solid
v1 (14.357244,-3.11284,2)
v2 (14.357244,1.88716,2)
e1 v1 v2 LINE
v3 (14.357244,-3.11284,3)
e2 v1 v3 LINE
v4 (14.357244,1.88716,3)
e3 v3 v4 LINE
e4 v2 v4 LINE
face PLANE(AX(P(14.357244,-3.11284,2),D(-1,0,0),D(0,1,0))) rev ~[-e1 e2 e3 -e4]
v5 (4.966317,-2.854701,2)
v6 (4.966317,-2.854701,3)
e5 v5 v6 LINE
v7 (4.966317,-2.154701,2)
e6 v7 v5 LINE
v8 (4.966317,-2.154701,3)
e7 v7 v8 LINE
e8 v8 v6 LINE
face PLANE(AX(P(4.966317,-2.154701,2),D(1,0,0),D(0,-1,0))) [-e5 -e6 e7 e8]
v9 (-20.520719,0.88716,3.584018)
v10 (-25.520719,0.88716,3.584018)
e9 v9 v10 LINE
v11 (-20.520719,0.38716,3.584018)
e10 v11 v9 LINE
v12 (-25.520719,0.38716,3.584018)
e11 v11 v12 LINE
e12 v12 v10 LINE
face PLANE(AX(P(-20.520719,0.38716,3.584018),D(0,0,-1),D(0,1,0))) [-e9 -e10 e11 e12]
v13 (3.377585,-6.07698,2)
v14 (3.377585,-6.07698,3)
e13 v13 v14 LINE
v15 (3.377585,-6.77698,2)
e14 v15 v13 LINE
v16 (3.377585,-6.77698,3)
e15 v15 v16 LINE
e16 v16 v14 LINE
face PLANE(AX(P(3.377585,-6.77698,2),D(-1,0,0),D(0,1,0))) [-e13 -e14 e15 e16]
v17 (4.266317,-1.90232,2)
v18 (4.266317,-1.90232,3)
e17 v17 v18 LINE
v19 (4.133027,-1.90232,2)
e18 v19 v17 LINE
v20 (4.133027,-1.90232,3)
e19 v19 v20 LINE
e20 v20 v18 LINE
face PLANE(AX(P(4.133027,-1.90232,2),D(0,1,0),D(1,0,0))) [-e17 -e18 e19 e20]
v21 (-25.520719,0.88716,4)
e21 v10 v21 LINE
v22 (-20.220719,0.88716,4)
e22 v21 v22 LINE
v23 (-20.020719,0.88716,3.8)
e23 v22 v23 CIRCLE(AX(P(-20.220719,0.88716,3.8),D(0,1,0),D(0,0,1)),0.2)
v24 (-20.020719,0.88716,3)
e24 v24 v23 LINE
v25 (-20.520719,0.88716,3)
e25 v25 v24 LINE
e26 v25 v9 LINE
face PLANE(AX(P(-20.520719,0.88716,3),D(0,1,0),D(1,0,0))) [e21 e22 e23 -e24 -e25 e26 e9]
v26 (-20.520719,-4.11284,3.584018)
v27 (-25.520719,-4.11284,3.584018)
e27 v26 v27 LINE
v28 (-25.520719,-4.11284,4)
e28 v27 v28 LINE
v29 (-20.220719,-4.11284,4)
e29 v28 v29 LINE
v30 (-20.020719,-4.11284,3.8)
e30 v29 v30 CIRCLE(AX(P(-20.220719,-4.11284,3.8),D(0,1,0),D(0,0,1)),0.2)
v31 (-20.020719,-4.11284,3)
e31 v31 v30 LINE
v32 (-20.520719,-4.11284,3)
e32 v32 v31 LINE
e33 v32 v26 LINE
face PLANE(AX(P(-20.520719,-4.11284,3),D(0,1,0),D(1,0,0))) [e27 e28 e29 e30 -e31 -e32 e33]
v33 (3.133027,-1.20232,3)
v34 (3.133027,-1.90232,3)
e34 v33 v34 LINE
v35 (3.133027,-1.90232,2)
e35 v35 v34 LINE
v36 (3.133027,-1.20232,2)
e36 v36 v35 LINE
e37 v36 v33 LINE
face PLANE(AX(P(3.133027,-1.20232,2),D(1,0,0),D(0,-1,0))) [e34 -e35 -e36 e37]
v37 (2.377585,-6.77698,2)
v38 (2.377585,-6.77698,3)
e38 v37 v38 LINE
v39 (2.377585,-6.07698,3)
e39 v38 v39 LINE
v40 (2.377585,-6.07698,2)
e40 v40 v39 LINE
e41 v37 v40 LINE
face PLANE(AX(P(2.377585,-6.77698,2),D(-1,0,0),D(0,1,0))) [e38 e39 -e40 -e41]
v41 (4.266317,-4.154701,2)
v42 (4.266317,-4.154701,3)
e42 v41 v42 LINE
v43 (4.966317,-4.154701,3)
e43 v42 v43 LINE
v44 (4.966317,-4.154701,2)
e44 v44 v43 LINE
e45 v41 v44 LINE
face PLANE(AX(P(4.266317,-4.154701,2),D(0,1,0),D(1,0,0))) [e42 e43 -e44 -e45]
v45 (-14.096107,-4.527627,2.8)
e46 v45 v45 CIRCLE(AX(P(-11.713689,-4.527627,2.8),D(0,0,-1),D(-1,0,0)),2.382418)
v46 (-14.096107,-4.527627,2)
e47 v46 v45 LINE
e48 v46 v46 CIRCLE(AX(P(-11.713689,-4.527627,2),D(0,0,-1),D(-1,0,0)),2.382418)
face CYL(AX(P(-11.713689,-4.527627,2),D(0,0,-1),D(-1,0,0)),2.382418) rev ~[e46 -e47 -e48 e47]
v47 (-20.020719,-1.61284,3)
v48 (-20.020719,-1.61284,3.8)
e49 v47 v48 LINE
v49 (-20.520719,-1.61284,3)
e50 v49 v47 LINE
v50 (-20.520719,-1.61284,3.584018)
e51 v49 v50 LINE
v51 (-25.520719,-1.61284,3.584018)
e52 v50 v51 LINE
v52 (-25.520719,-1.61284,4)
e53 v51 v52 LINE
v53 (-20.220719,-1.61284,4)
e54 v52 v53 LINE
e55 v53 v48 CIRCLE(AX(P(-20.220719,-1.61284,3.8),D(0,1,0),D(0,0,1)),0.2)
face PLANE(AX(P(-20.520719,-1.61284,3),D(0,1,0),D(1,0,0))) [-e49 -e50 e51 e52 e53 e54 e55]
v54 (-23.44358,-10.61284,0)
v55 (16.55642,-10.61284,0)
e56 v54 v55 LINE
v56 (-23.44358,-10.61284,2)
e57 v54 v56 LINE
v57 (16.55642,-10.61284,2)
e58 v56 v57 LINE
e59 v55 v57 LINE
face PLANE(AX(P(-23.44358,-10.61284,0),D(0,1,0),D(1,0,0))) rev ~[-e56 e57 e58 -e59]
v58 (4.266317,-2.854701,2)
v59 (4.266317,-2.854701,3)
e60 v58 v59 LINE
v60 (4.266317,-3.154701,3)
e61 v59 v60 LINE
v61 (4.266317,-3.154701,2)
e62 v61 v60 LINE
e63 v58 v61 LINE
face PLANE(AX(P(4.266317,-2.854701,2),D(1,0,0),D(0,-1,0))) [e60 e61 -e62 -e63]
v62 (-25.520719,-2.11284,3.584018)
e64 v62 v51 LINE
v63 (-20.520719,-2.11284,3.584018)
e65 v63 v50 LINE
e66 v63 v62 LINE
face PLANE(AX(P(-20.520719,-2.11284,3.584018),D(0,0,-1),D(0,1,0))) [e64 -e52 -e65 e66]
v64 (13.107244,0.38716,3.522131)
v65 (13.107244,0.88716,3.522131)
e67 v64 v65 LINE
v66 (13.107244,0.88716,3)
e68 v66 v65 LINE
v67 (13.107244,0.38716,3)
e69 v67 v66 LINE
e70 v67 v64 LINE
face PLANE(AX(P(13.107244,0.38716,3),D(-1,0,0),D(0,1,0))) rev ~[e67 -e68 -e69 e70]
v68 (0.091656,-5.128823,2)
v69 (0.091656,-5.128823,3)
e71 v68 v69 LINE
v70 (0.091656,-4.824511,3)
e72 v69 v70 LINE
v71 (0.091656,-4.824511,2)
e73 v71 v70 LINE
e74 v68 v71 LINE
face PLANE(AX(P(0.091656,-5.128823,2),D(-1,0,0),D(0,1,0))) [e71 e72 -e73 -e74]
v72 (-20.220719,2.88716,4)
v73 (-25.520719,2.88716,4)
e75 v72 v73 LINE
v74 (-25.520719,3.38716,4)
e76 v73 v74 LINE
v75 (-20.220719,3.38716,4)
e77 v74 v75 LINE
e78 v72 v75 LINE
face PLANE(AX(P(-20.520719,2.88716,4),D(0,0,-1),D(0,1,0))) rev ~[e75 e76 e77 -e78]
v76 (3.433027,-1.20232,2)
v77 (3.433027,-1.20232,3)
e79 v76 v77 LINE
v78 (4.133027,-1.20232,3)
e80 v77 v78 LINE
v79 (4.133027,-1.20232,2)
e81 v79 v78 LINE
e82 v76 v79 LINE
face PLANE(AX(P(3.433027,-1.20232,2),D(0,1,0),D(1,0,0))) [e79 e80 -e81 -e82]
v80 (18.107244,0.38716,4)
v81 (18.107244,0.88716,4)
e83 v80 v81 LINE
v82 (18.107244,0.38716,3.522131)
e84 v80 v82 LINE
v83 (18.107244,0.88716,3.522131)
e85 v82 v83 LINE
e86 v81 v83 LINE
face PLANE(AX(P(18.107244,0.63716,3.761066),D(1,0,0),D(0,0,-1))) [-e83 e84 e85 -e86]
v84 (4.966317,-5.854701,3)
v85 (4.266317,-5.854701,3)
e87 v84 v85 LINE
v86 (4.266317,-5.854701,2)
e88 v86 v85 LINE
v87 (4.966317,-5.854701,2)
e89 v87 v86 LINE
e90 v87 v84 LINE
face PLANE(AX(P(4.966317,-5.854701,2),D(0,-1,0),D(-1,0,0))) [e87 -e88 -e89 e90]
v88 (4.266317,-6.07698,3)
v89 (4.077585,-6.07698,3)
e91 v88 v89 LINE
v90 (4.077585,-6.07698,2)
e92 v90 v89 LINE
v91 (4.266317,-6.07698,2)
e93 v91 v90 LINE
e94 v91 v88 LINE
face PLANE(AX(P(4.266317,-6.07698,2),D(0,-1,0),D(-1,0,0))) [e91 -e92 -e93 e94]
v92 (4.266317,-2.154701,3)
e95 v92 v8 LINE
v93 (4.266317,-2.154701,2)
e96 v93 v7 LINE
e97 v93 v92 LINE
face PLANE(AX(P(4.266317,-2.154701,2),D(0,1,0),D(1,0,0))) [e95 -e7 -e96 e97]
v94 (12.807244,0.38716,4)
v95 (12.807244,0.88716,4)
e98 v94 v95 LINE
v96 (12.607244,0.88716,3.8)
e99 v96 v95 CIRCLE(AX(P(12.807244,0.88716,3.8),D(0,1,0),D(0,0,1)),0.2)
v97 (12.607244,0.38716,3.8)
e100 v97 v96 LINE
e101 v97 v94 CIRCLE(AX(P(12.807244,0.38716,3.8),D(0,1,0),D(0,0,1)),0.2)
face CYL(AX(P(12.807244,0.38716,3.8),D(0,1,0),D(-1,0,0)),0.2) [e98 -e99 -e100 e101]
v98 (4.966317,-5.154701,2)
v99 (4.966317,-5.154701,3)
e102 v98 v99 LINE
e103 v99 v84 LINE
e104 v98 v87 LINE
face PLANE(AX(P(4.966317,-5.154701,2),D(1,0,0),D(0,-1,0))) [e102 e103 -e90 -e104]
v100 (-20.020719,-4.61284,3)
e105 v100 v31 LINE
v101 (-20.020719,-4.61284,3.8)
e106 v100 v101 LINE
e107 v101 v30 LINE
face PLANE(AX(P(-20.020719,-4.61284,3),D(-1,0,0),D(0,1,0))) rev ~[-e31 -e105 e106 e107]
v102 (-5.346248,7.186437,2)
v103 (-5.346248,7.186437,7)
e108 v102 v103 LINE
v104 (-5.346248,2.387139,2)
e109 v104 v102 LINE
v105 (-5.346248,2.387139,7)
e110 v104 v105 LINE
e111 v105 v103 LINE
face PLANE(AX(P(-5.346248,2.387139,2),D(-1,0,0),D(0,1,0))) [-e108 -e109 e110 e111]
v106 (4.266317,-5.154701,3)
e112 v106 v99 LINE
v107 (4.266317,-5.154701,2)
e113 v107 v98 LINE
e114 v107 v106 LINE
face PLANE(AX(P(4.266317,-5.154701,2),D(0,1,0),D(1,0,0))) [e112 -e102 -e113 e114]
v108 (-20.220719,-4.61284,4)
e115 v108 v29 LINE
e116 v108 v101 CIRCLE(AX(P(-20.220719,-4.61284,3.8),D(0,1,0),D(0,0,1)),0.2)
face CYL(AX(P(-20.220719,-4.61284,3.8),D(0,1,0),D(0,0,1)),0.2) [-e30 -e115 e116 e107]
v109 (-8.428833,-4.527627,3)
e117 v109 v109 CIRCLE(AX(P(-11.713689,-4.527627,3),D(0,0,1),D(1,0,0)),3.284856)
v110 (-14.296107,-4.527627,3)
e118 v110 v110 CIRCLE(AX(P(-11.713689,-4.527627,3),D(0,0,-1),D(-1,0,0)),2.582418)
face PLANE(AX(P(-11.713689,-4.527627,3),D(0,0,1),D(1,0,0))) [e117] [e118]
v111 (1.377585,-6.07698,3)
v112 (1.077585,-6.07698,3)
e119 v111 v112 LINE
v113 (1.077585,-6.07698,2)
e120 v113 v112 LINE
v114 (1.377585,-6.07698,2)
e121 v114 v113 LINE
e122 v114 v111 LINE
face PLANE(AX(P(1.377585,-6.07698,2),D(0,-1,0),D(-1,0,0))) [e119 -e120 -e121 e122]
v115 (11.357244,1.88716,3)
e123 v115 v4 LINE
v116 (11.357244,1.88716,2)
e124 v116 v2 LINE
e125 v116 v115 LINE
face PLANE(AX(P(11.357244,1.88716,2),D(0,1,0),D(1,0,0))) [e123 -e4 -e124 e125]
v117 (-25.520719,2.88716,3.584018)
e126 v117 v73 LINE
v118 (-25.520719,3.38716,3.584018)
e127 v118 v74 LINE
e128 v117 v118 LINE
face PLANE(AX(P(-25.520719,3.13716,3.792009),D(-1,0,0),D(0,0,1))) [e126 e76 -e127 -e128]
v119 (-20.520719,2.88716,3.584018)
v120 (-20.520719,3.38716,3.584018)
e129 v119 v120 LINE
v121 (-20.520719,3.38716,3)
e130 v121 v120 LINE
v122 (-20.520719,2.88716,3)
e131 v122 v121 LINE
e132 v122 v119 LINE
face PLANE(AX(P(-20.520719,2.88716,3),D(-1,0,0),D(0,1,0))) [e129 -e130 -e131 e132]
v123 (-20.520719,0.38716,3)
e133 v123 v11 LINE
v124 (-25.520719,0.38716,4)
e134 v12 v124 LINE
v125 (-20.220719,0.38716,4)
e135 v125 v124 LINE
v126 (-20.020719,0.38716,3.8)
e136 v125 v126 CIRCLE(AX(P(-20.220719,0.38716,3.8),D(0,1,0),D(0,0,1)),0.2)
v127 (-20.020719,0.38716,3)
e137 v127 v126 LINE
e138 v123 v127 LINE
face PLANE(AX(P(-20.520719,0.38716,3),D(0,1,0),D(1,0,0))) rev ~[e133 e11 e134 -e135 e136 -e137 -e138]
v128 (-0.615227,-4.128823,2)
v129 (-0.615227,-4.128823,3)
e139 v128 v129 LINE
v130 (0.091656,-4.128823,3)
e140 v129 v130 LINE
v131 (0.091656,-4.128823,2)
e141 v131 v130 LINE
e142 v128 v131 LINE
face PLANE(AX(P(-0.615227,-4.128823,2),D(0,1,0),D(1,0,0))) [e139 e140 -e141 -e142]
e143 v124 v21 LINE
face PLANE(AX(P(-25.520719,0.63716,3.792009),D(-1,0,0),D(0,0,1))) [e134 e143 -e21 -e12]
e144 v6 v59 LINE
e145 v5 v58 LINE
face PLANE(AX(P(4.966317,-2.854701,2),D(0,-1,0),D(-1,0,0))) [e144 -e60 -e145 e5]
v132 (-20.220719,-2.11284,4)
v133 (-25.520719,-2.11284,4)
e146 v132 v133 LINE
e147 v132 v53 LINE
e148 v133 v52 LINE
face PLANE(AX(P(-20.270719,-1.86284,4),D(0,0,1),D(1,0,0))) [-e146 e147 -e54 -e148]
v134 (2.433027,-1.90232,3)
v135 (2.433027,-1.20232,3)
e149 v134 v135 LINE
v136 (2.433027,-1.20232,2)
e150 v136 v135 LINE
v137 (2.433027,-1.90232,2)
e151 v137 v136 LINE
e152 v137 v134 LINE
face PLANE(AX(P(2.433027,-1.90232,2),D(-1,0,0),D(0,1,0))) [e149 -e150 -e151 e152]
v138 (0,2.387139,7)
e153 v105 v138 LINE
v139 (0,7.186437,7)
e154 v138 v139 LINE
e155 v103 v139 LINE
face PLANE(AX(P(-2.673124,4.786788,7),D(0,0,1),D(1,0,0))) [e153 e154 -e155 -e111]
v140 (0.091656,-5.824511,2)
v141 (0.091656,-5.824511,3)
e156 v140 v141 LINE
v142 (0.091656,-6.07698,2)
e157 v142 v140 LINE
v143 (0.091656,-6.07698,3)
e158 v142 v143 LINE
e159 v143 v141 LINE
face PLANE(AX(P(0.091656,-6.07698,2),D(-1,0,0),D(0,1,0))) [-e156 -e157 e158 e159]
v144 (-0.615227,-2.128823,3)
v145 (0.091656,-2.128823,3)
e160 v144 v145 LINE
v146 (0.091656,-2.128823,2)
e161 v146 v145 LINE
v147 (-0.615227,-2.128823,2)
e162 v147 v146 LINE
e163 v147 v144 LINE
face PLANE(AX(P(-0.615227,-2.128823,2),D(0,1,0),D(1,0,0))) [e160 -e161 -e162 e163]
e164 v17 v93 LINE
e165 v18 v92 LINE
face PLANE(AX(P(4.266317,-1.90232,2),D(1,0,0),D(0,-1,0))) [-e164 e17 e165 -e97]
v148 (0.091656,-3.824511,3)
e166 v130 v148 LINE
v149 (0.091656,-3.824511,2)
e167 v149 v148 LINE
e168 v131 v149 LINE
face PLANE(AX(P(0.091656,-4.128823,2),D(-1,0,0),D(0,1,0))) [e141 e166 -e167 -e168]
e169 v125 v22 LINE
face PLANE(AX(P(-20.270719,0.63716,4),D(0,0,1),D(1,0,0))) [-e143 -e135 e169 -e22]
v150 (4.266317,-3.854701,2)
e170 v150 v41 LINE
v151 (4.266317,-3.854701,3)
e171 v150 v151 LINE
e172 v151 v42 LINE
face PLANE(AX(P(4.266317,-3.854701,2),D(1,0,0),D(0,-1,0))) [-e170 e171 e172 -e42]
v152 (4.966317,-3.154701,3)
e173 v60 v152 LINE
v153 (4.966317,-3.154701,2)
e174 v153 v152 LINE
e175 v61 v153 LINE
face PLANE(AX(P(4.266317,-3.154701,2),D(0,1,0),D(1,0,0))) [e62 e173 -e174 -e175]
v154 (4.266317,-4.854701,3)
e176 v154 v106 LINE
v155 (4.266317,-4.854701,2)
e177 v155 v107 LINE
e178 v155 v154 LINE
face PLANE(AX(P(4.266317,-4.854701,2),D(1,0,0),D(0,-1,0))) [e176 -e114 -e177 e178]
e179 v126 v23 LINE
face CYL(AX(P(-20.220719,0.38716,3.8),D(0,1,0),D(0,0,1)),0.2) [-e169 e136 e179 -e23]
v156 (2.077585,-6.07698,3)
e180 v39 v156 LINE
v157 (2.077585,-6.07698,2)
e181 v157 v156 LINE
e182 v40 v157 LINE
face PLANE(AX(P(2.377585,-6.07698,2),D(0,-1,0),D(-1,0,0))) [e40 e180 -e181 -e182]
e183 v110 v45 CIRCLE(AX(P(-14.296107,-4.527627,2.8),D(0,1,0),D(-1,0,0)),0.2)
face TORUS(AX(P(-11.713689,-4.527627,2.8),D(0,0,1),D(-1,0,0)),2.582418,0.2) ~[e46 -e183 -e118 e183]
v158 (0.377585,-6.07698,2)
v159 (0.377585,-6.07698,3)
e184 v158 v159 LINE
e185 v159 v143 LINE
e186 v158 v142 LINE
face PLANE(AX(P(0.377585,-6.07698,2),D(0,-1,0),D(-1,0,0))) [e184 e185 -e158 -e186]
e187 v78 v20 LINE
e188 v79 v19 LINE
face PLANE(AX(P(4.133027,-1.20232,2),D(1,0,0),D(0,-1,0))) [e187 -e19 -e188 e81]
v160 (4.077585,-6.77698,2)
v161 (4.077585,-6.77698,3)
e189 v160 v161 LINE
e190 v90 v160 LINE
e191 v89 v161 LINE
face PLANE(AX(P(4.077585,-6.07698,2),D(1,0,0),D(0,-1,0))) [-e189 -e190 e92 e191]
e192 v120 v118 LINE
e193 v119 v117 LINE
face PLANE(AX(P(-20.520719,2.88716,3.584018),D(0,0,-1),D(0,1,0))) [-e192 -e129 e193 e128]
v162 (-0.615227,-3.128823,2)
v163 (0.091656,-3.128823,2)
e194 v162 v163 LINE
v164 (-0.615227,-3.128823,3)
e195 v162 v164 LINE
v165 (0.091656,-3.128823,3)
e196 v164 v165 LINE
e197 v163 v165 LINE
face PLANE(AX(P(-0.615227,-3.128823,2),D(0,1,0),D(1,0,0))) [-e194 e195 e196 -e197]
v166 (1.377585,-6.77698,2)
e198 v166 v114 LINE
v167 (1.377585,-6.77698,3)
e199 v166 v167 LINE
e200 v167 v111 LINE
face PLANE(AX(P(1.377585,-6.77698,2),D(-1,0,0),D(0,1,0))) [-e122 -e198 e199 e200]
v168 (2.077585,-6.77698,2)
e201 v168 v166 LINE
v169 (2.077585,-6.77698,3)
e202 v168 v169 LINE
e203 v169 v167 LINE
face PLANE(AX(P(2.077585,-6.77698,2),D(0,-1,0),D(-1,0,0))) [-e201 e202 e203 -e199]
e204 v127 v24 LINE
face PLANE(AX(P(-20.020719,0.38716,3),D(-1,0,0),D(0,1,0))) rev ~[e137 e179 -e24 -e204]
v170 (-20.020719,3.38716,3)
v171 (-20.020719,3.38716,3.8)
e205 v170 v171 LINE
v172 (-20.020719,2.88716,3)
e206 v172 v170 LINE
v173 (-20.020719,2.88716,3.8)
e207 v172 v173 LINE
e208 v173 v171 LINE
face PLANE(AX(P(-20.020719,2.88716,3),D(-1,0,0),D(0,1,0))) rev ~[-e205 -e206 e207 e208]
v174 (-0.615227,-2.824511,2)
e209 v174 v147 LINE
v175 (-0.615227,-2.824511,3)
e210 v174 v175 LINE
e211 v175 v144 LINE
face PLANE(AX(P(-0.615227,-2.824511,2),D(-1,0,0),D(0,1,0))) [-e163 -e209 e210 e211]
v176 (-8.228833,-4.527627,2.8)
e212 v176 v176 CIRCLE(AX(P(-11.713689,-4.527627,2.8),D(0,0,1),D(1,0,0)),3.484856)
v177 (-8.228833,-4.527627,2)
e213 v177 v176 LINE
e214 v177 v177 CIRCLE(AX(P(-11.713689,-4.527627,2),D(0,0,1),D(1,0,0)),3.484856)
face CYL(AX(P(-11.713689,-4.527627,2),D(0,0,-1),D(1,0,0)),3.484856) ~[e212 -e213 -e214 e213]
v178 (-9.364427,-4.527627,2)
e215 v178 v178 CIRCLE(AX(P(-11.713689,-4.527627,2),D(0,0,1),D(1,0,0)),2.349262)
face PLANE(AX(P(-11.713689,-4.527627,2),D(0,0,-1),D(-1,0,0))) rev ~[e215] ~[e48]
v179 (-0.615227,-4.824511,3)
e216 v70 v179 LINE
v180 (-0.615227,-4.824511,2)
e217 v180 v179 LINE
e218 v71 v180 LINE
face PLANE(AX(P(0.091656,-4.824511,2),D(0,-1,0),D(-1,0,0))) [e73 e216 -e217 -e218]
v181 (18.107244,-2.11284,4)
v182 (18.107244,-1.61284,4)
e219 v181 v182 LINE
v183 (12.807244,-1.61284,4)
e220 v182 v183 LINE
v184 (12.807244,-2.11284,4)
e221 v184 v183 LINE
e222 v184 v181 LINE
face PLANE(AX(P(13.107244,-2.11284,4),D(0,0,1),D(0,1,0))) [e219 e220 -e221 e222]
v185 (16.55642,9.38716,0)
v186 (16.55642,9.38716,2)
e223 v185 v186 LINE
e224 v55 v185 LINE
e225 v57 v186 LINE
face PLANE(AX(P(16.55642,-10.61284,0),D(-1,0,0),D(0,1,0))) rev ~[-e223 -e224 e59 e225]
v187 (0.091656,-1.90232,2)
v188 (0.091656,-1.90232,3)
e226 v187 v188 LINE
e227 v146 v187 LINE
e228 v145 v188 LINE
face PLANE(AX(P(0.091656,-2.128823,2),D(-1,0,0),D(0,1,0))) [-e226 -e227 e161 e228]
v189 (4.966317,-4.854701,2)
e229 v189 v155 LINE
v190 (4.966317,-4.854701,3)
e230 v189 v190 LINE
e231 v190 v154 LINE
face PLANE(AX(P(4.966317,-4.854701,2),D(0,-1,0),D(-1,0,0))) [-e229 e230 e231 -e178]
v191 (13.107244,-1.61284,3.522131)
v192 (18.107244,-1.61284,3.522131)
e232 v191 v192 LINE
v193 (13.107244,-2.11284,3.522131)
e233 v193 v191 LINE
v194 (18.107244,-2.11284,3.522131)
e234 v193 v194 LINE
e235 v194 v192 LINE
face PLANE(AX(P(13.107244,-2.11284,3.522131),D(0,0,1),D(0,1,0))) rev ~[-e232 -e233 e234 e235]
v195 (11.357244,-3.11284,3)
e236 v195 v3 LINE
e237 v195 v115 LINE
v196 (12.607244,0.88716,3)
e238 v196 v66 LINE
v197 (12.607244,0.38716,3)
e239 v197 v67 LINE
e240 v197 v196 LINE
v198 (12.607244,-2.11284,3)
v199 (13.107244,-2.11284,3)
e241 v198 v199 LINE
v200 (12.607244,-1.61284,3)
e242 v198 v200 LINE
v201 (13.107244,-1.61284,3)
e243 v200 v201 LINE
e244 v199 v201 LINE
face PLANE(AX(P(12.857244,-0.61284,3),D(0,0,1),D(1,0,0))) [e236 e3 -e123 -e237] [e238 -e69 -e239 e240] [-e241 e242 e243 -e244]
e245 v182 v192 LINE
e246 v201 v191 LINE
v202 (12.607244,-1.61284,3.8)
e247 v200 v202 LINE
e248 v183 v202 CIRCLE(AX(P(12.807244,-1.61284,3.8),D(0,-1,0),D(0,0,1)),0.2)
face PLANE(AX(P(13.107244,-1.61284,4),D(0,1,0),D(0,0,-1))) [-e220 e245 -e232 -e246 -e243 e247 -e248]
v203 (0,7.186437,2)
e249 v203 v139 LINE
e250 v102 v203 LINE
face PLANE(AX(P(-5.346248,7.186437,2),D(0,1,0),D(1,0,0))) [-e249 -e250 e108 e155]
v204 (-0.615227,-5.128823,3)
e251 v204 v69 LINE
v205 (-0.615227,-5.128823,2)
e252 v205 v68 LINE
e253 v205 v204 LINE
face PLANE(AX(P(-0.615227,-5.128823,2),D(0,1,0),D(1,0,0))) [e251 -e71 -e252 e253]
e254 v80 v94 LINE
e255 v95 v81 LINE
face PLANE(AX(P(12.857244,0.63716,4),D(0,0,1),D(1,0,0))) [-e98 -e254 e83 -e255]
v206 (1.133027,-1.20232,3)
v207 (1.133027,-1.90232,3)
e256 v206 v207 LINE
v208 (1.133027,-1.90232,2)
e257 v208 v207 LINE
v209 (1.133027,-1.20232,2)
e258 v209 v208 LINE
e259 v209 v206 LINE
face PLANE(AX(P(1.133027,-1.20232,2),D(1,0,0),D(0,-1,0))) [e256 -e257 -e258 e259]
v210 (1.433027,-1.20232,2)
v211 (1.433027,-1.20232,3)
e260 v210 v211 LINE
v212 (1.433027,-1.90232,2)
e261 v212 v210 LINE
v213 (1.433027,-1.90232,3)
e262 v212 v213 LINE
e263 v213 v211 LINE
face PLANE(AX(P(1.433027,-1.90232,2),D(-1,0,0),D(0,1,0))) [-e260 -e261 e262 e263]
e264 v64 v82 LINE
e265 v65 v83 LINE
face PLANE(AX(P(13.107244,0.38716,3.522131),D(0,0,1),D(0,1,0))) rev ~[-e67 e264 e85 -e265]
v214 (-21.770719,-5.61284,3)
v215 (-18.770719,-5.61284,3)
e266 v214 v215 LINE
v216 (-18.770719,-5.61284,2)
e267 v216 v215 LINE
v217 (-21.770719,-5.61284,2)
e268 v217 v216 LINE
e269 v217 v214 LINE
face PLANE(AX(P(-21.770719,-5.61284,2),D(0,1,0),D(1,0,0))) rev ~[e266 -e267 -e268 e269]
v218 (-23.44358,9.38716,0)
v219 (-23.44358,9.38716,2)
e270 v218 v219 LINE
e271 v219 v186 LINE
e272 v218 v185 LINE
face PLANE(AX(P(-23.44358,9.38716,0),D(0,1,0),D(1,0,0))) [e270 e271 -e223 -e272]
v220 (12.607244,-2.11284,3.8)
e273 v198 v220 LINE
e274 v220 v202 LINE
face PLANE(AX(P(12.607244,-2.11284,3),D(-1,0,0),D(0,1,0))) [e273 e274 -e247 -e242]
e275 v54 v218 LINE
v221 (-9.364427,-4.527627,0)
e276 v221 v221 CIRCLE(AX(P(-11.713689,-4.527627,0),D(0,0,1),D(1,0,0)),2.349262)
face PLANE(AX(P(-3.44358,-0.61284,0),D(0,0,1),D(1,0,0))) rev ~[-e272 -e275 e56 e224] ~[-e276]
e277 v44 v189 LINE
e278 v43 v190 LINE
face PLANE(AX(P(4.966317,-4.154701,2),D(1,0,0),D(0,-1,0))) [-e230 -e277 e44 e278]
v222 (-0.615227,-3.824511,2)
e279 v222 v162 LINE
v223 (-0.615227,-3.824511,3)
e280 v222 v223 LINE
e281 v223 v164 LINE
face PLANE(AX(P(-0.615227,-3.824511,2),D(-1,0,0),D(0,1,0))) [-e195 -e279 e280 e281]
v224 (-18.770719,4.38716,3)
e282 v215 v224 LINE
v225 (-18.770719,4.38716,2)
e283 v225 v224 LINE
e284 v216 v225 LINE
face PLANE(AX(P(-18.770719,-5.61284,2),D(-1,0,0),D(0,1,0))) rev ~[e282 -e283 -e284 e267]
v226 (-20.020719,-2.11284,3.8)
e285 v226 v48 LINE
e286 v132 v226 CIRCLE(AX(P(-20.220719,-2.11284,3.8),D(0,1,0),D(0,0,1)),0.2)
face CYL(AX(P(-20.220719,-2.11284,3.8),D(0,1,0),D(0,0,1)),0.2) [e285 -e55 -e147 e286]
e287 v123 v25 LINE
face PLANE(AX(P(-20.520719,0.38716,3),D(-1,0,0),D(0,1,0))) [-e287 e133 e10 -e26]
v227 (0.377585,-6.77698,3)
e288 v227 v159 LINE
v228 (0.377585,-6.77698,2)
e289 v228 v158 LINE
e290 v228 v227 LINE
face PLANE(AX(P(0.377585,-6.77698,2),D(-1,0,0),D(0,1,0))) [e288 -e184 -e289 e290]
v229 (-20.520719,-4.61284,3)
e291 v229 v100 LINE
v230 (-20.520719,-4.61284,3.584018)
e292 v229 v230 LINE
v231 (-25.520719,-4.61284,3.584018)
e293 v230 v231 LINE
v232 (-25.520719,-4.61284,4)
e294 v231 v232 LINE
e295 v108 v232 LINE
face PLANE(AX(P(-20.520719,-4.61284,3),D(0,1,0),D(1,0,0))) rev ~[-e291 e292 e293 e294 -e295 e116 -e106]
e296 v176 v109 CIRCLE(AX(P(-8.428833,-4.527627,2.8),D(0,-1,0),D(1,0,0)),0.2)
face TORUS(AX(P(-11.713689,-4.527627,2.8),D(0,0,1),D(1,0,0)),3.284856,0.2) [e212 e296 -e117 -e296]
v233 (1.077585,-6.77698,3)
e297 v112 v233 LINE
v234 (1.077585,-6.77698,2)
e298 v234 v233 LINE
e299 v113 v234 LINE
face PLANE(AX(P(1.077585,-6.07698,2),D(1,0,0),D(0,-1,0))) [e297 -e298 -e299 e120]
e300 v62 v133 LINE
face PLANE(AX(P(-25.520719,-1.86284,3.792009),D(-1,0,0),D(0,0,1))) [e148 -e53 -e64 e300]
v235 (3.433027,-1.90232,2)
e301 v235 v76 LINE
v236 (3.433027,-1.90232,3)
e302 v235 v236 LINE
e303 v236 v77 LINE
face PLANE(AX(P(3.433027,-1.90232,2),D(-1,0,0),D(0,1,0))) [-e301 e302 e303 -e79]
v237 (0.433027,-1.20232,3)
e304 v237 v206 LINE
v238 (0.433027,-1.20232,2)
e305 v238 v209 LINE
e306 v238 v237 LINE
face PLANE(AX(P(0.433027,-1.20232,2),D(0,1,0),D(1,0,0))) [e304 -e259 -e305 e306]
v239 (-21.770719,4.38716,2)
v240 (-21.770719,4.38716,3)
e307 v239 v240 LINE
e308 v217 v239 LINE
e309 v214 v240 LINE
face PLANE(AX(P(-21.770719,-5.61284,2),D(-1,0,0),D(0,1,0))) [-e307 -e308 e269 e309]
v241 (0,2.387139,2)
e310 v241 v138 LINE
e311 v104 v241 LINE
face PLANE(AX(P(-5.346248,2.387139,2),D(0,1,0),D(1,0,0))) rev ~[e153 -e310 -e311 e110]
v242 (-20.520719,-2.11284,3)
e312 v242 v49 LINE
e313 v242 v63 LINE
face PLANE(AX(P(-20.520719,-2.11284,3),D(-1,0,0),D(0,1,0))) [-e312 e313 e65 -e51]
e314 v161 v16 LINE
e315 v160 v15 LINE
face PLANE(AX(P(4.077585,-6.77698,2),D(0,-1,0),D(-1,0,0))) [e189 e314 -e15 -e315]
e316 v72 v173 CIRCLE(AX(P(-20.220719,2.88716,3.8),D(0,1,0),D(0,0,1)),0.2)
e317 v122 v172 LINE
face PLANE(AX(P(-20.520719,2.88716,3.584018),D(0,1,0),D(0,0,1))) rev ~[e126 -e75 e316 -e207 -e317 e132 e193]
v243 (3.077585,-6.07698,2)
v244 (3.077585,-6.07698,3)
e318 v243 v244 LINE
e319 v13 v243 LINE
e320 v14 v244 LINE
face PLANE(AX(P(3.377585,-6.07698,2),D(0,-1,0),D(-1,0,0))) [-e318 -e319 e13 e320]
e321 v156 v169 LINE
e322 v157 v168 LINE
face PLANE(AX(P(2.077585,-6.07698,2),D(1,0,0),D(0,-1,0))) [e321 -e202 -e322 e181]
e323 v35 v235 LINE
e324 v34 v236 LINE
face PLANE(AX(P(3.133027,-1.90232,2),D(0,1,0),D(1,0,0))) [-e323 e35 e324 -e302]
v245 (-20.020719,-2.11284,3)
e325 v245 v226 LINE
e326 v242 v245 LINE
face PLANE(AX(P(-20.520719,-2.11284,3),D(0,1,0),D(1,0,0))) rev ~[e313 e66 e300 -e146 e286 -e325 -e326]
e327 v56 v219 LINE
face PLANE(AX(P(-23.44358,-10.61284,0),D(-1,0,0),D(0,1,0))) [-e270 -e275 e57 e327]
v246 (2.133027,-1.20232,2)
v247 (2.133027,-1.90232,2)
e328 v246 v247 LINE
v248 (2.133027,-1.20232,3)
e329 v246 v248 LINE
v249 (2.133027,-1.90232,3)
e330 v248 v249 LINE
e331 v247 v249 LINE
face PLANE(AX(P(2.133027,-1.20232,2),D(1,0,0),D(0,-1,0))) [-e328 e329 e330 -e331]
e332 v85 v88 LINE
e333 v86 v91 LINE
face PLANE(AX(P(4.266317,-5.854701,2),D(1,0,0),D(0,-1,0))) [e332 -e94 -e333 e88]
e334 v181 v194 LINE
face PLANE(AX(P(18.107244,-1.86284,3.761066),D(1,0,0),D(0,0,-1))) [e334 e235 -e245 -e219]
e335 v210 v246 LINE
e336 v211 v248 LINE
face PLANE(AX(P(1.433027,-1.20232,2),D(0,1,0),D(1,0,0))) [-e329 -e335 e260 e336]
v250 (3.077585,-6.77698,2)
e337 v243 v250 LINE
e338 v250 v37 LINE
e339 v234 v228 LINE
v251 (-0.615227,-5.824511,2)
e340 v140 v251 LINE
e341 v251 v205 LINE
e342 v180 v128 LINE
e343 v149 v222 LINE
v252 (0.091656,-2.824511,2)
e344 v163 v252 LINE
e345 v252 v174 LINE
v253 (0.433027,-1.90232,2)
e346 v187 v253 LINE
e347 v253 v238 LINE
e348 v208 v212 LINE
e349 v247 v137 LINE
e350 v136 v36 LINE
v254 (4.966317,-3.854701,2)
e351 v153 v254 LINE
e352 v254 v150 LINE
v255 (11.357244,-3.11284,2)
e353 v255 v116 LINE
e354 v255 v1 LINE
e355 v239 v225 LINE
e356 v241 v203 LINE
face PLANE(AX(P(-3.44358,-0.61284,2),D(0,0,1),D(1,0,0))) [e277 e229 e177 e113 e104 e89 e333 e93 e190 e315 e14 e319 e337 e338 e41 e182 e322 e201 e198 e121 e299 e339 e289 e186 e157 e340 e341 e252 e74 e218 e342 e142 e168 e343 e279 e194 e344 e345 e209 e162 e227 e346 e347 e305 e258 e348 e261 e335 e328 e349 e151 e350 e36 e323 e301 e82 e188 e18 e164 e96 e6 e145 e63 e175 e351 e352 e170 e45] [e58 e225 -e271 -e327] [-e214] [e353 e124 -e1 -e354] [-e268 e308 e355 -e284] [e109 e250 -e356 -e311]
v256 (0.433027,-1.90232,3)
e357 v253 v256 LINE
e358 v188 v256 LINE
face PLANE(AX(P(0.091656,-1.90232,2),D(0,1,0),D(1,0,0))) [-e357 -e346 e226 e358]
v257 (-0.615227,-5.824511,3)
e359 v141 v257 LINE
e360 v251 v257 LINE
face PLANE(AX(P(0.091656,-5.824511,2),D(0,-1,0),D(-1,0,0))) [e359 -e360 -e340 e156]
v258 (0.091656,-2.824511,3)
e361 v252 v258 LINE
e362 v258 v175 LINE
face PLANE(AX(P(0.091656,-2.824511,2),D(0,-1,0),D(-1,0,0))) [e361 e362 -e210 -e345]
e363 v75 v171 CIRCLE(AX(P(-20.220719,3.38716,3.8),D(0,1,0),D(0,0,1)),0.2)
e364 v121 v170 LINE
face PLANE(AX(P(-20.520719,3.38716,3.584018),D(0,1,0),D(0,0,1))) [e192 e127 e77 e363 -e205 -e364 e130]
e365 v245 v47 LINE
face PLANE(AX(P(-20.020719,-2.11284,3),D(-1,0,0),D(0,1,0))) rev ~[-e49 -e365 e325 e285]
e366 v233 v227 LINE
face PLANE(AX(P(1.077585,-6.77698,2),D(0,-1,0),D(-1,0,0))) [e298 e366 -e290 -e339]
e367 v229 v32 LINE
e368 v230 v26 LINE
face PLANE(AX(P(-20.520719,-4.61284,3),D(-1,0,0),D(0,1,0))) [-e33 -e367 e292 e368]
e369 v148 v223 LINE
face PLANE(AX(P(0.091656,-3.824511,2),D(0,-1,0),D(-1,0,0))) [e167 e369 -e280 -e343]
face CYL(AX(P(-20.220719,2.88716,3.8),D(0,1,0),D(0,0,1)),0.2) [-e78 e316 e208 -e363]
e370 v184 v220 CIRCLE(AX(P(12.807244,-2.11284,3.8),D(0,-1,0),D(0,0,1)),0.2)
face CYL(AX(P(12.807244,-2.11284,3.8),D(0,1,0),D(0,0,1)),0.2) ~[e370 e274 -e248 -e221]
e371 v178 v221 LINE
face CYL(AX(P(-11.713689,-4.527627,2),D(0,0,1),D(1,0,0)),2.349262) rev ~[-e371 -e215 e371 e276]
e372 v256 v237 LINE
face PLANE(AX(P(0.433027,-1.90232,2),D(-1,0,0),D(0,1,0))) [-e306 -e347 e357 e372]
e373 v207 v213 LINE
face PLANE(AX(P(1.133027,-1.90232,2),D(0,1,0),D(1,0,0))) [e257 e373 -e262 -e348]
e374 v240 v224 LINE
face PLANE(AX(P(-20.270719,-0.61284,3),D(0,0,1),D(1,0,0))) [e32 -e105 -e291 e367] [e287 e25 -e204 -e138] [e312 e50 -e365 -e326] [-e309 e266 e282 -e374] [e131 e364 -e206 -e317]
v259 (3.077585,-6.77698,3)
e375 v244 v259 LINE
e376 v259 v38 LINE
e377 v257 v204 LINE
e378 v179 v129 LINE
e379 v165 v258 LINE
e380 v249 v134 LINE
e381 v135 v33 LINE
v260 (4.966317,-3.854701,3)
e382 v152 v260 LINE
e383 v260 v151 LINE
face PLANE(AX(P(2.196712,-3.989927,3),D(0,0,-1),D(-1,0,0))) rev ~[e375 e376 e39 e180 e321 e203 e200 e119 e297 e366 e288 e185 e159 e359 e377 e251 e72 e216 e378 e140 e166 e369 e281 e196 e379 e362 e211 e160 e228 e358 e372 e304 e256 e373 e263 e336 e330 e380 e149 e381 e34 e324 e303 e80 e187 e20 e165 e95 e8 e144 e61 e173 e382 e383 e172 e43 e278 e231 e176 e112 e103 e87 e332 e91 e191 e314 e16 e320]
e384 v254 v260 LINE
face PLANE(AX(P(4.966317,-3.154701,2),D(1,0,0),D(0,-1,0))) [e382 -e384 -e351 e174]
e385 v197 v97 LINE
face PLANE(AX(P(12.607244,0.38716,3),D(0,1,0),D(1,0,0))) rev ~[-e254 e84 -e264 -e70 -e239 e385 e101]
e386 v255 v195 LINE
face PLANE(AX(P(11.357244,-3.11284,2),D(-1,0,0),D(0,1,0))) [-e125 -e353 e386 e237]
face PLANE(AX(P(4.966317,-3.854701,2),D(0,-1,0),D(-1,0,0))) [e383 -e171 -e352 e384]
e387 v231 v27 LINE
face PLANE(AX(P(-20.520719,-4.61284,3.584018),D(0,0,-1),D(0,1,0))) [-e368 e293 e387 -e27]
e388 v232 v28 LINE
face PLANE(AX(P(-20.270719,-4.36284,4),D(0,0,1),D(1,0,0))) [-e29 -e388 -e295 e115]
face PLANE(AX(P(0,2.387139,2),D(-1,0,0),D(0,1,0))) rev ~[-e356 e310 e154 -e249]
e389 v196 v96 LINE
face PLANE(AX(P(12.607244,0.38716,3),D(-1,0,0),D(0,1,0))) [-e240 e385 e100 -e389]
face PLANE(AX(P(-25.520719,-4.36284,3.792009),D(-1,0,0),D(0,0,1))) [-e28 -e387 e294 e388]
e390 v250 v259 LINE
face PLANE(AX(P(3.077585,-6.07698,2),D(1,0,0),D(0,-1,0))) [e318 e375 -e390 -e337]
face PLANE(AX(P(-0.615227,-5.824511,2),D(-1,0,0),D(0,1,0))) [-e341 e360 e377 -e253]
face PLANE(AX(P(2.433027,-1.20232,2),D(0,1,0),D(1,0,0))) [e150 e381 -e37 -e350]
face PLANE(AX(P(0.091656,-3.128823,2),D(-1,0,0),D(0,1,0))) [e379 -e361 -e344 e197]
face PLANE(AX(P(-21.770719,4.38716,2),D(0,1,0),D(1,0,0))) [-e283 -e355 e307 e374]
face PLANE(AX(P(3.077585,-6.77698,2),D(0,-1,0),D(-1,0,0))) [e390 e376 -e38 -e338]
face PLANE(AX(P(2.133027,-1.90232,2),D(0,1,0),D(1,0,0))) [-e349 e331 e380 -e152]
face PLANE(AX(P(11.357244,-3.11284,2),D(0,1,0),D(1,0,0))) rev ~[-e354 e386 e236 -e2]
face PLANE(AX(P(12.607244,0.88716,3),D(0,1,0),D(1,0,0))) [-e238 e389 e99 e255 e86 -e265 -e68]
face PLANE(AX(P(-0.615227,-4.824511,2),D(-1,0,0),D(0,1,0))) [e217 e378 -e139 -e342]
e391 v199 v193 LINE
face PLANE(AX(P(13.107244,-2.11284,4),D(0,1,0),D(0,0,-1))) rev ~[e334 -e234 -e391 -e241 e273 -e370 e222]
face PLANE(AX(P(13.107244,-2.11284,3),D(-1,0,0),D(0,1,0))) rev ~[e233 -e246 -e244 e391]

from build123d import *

# Parameters (mm, degrees)
SKETCH1_W           = 40
SKETCH1_H           = 20
BOSS_EXTRUDE1_DEPTH = 2
SKETCH2_W           = 3
SKETCH2_H           = 10
SKETCH2_H_2         = 5
BOSS_EXTRUDE2_DEPTH = 1
SKETCH3_W           = 0.5
SKETCH3_H           = 0.5
BOSS_EXTRUDE3_DEPTH = 1
SKETCH5_W           = 0.415981526
SKETCH5_H           = 0.5
BOSS_EXTRUDE4_DEPTH = 5
FILLET1_R           = 0.2
SKETCH7_W           = 0.477868842
SKETCH7_H           = 0.5
BOSS_EXTRUDE5_DEPTH = 5
FILLET3_R           = 0.2
SKETCH8_W           = 5.346247603
SKETCH8_H           = 4.799297503
BOSS_EXTRUDE6_DEPTH = 5
BOSS_EXTRUDE8_DEPTH = 1
CUT_EXTRUDE1_REACH  = 30.088
SKETCH10_R          = 2.349261849
SKETCH13_R          = 3.48485592
BOSS_EXTRUDE9_DEPTH = 1
CUT_EXTRUDE2_REACH  = 30.088
SKETCH14_R          = 2.382418239
FILLET5_R           = 0.2


with BuildPart() as part:
    # Sketch1 → Boss-Extrude1 (new body)
    with BuildSketch(Plane.XY):
        with Locations((-3.443579767, -0.612840467)):
            Rectangle(SKETCH1_W, SKETCH1_H)
    extrude(amount=BOSS_EXTRUDE1_DEPTH)

    # Sketch2 → Boss-Extrude2 (add)
    with BuildSketch(Plane.XY.offset(2)):
        with Locations((-20.270719319, -0.612840467)):
            Rectangle(SKETCH2_W, SKETCH2_H)
        with Locations((12.857244344, -0.612840467)):
            Rectangle(SKETCH2_W, SKETCH2_H_2)
    extrude(amount=BOSS_EXTRUDE2_DEPTH)

    # Sketch3 → Boss-Extrude3 (add)
    with BuildSketch(Plane.XY.offset(3)):
        with Locations((-20.270719319, 3.137159533)):
            Rectangle(SKETCH3_W, SKETCH3_H)
        with Locations((-20.270719319, 0.637159533)):
            Rectangle(SKETCH3_W, SKETCH3_H)
        with Locations((-20.270719319, -1.862840467)):
            Rectangle(SKETCH3_W, SKETCH3_H)
        with Locations((-20.270719319, -4.362840467)):
            Rectangle(SKETCH3_W, SKETCH3_H)
        with Locations((12.857244344, -1.862840467)):
            Rectangle(SKETCH3_W, SKETCH3_H)
        with Locations((12.857244344, 0.637159533)):
            Rectangle(SKETCH3_W, SKETCH3_H)
    extrude(amount=BOSS_EXTRUDE3_DEPTH)

    # Sketch5 → Boss-Extrude4 (add)
    with BuildSketch(Plane.ZY.offset(20.520719319)):
        with Locations((3.792009237, 3.137159533)):
            Rectangle(SKETCH5_W, SKETCH5_H)
        with Locations((3.792009237, 0.637159533)):
            Rectangle(SKETCH5_W, SKETCH5_H)
        with Locations((3.792009237, -1.862840467)):
            Rectangle(SKETCH5_W, SKETCH5_H)
        with Locations((3.792009237, -4.362840467)):
            Rectangle(SKETCH5_W, SKETCH5_H)
    extrude(amount=BOSS_EXTRUDE4_DEPTH)

    # Fillet1
    fillet1_edges = [part.edges().sort_by_distance(p)[0] for p in [
        (-20.020719319, 3.137159533, 4),
        (-20.020719319, 0.637159533, 4),
        (-20.020719319, -1.862840467, 4),
        (-20.020719319, -4.362840467, 4),
    ]]
    fillet(fillet1_edges, radius=FILLET1_R)

    # Sketch7 → Boss-Extrude5 (add)
    with BuildSketch(Plane(origin=(13.107244344, 0, 0), x_dir=(0, 0, -1), z_dir=(1, 0, 0))):
        with Locations((-3.761065579, -1.862840467)):
            Rectangle(SKETCH7_W, SKETCH7_H)
        with Locations((-3.761065579, 0.637159533)):
            Rectangle(SKETCH7_W, SKETCH7_H)
    extrude(amount=BOSS_EXTRUDE5_DEPTH)

    # Fillet3
    fillet3_edges = [part.edges().sort_by_distance(p)[0] for p in [
        (12.607244344, -1.862840467, 4),
        (12.607244344, 0.637159533, 4),
    ]]
    fillet(fillet3_edges, radius=FILLET3_R)

    # Sketch8 → Boss-Extrude6 (add)
    with BuildSketch(Plane.XY.offset(2)):
        with Locations((-2.673123802, 4.786787988)):
            Rectangle(SKETCH8_W, SKETCH8_H)
    extrude(amount=BOSS_EXTRUDE6_DEPTH)

    # Sketch9 → Boss-Extrude8 (add)
    with BuildSketch(Plane.XY.offset(2)):
        Polygon((0.091656416, -4.824510849), (-0.615226542, -4.824510849), (-0.615226542, -4.128822948), (0.091656416, -4.128822948), (0.091656416, -3.824510849), (-0.615226542, -3.824510849), (-0.615226542, -3.128822948), (0.091656416, -3.128822948), (0.091656416, -2.824510849), (-0.615226542, -2.824510849), (-0.615226542, -2.128822948), (0.091656416, -2.128822948), (0.091656416, -1.902319725), (0.43302666, -1.902319725), (0.43302666, -1.202319725), (1.13302666, -1.202319725), (1.13302666, -1.902319725), (1.43302666, -1.902319725), (1.43302666, -1.202319725), (2.13302666, -1.202319725), (2.13302666, -1.902319725), (2.43302666, -1.902319725), (2.43302666, -1.202319725), (3.13302666, -1.202319725), (3.13302666, -1.902319725), (3.43302666, -1.902319725), (3.43302666, -1.202319725), (4.13302666, -1.202319725), (4.13302666, -1.902319725), (4.266316816, -1.902319725), (4.266316816, -2.154701216), (4.966316816, -2.154701216), (4.966316816, -2.854701216), (4.266316816, -2.854701216), (4.266316816, -3.154701216), (4.966316816, -3.154701216), (4.966316816, -3.854701216), (4.266316816, -3.854701216), (4.266316816, -4.154701216), (4.966316816, -4.154701216), (4.966316816, -4.854701216), (4.266316816, -4.854701216), (4.266316816, -5.154701216), (4.966316816, -5.154701216), (4.966316816, -5.854701216), (4.266316816, -5.854701216), (4.266316816, -6.07698014), (4.077584514, -6.07698014), (4.077584514, -6.77698014), (3.377584514, -6.77698014), (3.377584514, -6.07698014), (3.077584514, -6.07698014), (3.077584514, -6.77698014), (2.377584514, -6.77698014), (2.377584514, -6.07698014), (2.077584514, -6.07698014), (2.077584514, -6.77698014), (1.377584514, -6.77698014), (1.377584514, -6.07698014), (1.077584514, -6.07698014), (1.077584514, -6.77698014), (0.377584514, -6.77698014), (0.377584514, -6.07698014), (0.091656416, -6.07698014), (0.091656416, -5.824510849), (-0.615226542, -5.824510849), (-0.615226542, -5.128822948), (0.091656416, -5.128822948), align=None)
    extrude(amount=BOSS_EXTRUDE8_DEPTH)

    # Sketch10 → Cut-Extrude1 (cut, up to next)
    with BuildSketch(Plane.XY.offset(2), mode=Mode.PRIVATE) as cut_extrude1_sk1:
        with Locations((-11.713689096, -4.527627409)):
            Circle(SKETCH10_R)
    cut_extrude1_tool1 = extrude(cut_extrude1_sk1.sketch, amount=-CUT_EXTRUDE1_REACH, mode=Mode.PRIVATE) & part.part
    add(cut_extrude1_tool1.solids().sort_by_distance((-11.713689, -4.527627, 2))[0], mode=Mode.SUBTRACT)

    # Sketch13 → Boss-Extrude9 (add)
    with BuildSketch(Plane.XY.offset(2)):
        with Locations((-11.713689096, -4.527627409)):
            Circle(SKETCH13_R)
    extrude(amount=BOSS_EXTRUDE9_DEPTH)

    # Sketch14 → Cut-Extrude2 (cut, up to next)
    with BuildSketch(Plane(origin=(0, 0, 2), x_dir=(-1, 0, 0), z_dir=(0, 0, -1)), mode=Mode.PRIVATE) as cut_extrude2_sk1:
        with Locations((11.713689096, -4.527627409)):
            Circle(SKETCH14_R)
    cut_extrude2_tool1 = extrude(cut_extrude2_sk1.sketch, amount=-CUT_EXTRUDE2_REACH, mode=Mode.PRIVATE) & part.part
    add(cut_extrude2_tool1.solids().sort_by_distance((-11.713689, -4.527627, 2))[0], mode=Mode.SUBTRACT)

    # Fillet5
    fillet5_edges = [part.edges().sort_by_distance(p)[0] for p in [
        (-15.198545015, -4.527627409, 3),
        (-9.331270856, -4.527627409, 3),
    ]]
    fillet(fillet5_edges, radius=FILLET5_R)


solid = part.part
